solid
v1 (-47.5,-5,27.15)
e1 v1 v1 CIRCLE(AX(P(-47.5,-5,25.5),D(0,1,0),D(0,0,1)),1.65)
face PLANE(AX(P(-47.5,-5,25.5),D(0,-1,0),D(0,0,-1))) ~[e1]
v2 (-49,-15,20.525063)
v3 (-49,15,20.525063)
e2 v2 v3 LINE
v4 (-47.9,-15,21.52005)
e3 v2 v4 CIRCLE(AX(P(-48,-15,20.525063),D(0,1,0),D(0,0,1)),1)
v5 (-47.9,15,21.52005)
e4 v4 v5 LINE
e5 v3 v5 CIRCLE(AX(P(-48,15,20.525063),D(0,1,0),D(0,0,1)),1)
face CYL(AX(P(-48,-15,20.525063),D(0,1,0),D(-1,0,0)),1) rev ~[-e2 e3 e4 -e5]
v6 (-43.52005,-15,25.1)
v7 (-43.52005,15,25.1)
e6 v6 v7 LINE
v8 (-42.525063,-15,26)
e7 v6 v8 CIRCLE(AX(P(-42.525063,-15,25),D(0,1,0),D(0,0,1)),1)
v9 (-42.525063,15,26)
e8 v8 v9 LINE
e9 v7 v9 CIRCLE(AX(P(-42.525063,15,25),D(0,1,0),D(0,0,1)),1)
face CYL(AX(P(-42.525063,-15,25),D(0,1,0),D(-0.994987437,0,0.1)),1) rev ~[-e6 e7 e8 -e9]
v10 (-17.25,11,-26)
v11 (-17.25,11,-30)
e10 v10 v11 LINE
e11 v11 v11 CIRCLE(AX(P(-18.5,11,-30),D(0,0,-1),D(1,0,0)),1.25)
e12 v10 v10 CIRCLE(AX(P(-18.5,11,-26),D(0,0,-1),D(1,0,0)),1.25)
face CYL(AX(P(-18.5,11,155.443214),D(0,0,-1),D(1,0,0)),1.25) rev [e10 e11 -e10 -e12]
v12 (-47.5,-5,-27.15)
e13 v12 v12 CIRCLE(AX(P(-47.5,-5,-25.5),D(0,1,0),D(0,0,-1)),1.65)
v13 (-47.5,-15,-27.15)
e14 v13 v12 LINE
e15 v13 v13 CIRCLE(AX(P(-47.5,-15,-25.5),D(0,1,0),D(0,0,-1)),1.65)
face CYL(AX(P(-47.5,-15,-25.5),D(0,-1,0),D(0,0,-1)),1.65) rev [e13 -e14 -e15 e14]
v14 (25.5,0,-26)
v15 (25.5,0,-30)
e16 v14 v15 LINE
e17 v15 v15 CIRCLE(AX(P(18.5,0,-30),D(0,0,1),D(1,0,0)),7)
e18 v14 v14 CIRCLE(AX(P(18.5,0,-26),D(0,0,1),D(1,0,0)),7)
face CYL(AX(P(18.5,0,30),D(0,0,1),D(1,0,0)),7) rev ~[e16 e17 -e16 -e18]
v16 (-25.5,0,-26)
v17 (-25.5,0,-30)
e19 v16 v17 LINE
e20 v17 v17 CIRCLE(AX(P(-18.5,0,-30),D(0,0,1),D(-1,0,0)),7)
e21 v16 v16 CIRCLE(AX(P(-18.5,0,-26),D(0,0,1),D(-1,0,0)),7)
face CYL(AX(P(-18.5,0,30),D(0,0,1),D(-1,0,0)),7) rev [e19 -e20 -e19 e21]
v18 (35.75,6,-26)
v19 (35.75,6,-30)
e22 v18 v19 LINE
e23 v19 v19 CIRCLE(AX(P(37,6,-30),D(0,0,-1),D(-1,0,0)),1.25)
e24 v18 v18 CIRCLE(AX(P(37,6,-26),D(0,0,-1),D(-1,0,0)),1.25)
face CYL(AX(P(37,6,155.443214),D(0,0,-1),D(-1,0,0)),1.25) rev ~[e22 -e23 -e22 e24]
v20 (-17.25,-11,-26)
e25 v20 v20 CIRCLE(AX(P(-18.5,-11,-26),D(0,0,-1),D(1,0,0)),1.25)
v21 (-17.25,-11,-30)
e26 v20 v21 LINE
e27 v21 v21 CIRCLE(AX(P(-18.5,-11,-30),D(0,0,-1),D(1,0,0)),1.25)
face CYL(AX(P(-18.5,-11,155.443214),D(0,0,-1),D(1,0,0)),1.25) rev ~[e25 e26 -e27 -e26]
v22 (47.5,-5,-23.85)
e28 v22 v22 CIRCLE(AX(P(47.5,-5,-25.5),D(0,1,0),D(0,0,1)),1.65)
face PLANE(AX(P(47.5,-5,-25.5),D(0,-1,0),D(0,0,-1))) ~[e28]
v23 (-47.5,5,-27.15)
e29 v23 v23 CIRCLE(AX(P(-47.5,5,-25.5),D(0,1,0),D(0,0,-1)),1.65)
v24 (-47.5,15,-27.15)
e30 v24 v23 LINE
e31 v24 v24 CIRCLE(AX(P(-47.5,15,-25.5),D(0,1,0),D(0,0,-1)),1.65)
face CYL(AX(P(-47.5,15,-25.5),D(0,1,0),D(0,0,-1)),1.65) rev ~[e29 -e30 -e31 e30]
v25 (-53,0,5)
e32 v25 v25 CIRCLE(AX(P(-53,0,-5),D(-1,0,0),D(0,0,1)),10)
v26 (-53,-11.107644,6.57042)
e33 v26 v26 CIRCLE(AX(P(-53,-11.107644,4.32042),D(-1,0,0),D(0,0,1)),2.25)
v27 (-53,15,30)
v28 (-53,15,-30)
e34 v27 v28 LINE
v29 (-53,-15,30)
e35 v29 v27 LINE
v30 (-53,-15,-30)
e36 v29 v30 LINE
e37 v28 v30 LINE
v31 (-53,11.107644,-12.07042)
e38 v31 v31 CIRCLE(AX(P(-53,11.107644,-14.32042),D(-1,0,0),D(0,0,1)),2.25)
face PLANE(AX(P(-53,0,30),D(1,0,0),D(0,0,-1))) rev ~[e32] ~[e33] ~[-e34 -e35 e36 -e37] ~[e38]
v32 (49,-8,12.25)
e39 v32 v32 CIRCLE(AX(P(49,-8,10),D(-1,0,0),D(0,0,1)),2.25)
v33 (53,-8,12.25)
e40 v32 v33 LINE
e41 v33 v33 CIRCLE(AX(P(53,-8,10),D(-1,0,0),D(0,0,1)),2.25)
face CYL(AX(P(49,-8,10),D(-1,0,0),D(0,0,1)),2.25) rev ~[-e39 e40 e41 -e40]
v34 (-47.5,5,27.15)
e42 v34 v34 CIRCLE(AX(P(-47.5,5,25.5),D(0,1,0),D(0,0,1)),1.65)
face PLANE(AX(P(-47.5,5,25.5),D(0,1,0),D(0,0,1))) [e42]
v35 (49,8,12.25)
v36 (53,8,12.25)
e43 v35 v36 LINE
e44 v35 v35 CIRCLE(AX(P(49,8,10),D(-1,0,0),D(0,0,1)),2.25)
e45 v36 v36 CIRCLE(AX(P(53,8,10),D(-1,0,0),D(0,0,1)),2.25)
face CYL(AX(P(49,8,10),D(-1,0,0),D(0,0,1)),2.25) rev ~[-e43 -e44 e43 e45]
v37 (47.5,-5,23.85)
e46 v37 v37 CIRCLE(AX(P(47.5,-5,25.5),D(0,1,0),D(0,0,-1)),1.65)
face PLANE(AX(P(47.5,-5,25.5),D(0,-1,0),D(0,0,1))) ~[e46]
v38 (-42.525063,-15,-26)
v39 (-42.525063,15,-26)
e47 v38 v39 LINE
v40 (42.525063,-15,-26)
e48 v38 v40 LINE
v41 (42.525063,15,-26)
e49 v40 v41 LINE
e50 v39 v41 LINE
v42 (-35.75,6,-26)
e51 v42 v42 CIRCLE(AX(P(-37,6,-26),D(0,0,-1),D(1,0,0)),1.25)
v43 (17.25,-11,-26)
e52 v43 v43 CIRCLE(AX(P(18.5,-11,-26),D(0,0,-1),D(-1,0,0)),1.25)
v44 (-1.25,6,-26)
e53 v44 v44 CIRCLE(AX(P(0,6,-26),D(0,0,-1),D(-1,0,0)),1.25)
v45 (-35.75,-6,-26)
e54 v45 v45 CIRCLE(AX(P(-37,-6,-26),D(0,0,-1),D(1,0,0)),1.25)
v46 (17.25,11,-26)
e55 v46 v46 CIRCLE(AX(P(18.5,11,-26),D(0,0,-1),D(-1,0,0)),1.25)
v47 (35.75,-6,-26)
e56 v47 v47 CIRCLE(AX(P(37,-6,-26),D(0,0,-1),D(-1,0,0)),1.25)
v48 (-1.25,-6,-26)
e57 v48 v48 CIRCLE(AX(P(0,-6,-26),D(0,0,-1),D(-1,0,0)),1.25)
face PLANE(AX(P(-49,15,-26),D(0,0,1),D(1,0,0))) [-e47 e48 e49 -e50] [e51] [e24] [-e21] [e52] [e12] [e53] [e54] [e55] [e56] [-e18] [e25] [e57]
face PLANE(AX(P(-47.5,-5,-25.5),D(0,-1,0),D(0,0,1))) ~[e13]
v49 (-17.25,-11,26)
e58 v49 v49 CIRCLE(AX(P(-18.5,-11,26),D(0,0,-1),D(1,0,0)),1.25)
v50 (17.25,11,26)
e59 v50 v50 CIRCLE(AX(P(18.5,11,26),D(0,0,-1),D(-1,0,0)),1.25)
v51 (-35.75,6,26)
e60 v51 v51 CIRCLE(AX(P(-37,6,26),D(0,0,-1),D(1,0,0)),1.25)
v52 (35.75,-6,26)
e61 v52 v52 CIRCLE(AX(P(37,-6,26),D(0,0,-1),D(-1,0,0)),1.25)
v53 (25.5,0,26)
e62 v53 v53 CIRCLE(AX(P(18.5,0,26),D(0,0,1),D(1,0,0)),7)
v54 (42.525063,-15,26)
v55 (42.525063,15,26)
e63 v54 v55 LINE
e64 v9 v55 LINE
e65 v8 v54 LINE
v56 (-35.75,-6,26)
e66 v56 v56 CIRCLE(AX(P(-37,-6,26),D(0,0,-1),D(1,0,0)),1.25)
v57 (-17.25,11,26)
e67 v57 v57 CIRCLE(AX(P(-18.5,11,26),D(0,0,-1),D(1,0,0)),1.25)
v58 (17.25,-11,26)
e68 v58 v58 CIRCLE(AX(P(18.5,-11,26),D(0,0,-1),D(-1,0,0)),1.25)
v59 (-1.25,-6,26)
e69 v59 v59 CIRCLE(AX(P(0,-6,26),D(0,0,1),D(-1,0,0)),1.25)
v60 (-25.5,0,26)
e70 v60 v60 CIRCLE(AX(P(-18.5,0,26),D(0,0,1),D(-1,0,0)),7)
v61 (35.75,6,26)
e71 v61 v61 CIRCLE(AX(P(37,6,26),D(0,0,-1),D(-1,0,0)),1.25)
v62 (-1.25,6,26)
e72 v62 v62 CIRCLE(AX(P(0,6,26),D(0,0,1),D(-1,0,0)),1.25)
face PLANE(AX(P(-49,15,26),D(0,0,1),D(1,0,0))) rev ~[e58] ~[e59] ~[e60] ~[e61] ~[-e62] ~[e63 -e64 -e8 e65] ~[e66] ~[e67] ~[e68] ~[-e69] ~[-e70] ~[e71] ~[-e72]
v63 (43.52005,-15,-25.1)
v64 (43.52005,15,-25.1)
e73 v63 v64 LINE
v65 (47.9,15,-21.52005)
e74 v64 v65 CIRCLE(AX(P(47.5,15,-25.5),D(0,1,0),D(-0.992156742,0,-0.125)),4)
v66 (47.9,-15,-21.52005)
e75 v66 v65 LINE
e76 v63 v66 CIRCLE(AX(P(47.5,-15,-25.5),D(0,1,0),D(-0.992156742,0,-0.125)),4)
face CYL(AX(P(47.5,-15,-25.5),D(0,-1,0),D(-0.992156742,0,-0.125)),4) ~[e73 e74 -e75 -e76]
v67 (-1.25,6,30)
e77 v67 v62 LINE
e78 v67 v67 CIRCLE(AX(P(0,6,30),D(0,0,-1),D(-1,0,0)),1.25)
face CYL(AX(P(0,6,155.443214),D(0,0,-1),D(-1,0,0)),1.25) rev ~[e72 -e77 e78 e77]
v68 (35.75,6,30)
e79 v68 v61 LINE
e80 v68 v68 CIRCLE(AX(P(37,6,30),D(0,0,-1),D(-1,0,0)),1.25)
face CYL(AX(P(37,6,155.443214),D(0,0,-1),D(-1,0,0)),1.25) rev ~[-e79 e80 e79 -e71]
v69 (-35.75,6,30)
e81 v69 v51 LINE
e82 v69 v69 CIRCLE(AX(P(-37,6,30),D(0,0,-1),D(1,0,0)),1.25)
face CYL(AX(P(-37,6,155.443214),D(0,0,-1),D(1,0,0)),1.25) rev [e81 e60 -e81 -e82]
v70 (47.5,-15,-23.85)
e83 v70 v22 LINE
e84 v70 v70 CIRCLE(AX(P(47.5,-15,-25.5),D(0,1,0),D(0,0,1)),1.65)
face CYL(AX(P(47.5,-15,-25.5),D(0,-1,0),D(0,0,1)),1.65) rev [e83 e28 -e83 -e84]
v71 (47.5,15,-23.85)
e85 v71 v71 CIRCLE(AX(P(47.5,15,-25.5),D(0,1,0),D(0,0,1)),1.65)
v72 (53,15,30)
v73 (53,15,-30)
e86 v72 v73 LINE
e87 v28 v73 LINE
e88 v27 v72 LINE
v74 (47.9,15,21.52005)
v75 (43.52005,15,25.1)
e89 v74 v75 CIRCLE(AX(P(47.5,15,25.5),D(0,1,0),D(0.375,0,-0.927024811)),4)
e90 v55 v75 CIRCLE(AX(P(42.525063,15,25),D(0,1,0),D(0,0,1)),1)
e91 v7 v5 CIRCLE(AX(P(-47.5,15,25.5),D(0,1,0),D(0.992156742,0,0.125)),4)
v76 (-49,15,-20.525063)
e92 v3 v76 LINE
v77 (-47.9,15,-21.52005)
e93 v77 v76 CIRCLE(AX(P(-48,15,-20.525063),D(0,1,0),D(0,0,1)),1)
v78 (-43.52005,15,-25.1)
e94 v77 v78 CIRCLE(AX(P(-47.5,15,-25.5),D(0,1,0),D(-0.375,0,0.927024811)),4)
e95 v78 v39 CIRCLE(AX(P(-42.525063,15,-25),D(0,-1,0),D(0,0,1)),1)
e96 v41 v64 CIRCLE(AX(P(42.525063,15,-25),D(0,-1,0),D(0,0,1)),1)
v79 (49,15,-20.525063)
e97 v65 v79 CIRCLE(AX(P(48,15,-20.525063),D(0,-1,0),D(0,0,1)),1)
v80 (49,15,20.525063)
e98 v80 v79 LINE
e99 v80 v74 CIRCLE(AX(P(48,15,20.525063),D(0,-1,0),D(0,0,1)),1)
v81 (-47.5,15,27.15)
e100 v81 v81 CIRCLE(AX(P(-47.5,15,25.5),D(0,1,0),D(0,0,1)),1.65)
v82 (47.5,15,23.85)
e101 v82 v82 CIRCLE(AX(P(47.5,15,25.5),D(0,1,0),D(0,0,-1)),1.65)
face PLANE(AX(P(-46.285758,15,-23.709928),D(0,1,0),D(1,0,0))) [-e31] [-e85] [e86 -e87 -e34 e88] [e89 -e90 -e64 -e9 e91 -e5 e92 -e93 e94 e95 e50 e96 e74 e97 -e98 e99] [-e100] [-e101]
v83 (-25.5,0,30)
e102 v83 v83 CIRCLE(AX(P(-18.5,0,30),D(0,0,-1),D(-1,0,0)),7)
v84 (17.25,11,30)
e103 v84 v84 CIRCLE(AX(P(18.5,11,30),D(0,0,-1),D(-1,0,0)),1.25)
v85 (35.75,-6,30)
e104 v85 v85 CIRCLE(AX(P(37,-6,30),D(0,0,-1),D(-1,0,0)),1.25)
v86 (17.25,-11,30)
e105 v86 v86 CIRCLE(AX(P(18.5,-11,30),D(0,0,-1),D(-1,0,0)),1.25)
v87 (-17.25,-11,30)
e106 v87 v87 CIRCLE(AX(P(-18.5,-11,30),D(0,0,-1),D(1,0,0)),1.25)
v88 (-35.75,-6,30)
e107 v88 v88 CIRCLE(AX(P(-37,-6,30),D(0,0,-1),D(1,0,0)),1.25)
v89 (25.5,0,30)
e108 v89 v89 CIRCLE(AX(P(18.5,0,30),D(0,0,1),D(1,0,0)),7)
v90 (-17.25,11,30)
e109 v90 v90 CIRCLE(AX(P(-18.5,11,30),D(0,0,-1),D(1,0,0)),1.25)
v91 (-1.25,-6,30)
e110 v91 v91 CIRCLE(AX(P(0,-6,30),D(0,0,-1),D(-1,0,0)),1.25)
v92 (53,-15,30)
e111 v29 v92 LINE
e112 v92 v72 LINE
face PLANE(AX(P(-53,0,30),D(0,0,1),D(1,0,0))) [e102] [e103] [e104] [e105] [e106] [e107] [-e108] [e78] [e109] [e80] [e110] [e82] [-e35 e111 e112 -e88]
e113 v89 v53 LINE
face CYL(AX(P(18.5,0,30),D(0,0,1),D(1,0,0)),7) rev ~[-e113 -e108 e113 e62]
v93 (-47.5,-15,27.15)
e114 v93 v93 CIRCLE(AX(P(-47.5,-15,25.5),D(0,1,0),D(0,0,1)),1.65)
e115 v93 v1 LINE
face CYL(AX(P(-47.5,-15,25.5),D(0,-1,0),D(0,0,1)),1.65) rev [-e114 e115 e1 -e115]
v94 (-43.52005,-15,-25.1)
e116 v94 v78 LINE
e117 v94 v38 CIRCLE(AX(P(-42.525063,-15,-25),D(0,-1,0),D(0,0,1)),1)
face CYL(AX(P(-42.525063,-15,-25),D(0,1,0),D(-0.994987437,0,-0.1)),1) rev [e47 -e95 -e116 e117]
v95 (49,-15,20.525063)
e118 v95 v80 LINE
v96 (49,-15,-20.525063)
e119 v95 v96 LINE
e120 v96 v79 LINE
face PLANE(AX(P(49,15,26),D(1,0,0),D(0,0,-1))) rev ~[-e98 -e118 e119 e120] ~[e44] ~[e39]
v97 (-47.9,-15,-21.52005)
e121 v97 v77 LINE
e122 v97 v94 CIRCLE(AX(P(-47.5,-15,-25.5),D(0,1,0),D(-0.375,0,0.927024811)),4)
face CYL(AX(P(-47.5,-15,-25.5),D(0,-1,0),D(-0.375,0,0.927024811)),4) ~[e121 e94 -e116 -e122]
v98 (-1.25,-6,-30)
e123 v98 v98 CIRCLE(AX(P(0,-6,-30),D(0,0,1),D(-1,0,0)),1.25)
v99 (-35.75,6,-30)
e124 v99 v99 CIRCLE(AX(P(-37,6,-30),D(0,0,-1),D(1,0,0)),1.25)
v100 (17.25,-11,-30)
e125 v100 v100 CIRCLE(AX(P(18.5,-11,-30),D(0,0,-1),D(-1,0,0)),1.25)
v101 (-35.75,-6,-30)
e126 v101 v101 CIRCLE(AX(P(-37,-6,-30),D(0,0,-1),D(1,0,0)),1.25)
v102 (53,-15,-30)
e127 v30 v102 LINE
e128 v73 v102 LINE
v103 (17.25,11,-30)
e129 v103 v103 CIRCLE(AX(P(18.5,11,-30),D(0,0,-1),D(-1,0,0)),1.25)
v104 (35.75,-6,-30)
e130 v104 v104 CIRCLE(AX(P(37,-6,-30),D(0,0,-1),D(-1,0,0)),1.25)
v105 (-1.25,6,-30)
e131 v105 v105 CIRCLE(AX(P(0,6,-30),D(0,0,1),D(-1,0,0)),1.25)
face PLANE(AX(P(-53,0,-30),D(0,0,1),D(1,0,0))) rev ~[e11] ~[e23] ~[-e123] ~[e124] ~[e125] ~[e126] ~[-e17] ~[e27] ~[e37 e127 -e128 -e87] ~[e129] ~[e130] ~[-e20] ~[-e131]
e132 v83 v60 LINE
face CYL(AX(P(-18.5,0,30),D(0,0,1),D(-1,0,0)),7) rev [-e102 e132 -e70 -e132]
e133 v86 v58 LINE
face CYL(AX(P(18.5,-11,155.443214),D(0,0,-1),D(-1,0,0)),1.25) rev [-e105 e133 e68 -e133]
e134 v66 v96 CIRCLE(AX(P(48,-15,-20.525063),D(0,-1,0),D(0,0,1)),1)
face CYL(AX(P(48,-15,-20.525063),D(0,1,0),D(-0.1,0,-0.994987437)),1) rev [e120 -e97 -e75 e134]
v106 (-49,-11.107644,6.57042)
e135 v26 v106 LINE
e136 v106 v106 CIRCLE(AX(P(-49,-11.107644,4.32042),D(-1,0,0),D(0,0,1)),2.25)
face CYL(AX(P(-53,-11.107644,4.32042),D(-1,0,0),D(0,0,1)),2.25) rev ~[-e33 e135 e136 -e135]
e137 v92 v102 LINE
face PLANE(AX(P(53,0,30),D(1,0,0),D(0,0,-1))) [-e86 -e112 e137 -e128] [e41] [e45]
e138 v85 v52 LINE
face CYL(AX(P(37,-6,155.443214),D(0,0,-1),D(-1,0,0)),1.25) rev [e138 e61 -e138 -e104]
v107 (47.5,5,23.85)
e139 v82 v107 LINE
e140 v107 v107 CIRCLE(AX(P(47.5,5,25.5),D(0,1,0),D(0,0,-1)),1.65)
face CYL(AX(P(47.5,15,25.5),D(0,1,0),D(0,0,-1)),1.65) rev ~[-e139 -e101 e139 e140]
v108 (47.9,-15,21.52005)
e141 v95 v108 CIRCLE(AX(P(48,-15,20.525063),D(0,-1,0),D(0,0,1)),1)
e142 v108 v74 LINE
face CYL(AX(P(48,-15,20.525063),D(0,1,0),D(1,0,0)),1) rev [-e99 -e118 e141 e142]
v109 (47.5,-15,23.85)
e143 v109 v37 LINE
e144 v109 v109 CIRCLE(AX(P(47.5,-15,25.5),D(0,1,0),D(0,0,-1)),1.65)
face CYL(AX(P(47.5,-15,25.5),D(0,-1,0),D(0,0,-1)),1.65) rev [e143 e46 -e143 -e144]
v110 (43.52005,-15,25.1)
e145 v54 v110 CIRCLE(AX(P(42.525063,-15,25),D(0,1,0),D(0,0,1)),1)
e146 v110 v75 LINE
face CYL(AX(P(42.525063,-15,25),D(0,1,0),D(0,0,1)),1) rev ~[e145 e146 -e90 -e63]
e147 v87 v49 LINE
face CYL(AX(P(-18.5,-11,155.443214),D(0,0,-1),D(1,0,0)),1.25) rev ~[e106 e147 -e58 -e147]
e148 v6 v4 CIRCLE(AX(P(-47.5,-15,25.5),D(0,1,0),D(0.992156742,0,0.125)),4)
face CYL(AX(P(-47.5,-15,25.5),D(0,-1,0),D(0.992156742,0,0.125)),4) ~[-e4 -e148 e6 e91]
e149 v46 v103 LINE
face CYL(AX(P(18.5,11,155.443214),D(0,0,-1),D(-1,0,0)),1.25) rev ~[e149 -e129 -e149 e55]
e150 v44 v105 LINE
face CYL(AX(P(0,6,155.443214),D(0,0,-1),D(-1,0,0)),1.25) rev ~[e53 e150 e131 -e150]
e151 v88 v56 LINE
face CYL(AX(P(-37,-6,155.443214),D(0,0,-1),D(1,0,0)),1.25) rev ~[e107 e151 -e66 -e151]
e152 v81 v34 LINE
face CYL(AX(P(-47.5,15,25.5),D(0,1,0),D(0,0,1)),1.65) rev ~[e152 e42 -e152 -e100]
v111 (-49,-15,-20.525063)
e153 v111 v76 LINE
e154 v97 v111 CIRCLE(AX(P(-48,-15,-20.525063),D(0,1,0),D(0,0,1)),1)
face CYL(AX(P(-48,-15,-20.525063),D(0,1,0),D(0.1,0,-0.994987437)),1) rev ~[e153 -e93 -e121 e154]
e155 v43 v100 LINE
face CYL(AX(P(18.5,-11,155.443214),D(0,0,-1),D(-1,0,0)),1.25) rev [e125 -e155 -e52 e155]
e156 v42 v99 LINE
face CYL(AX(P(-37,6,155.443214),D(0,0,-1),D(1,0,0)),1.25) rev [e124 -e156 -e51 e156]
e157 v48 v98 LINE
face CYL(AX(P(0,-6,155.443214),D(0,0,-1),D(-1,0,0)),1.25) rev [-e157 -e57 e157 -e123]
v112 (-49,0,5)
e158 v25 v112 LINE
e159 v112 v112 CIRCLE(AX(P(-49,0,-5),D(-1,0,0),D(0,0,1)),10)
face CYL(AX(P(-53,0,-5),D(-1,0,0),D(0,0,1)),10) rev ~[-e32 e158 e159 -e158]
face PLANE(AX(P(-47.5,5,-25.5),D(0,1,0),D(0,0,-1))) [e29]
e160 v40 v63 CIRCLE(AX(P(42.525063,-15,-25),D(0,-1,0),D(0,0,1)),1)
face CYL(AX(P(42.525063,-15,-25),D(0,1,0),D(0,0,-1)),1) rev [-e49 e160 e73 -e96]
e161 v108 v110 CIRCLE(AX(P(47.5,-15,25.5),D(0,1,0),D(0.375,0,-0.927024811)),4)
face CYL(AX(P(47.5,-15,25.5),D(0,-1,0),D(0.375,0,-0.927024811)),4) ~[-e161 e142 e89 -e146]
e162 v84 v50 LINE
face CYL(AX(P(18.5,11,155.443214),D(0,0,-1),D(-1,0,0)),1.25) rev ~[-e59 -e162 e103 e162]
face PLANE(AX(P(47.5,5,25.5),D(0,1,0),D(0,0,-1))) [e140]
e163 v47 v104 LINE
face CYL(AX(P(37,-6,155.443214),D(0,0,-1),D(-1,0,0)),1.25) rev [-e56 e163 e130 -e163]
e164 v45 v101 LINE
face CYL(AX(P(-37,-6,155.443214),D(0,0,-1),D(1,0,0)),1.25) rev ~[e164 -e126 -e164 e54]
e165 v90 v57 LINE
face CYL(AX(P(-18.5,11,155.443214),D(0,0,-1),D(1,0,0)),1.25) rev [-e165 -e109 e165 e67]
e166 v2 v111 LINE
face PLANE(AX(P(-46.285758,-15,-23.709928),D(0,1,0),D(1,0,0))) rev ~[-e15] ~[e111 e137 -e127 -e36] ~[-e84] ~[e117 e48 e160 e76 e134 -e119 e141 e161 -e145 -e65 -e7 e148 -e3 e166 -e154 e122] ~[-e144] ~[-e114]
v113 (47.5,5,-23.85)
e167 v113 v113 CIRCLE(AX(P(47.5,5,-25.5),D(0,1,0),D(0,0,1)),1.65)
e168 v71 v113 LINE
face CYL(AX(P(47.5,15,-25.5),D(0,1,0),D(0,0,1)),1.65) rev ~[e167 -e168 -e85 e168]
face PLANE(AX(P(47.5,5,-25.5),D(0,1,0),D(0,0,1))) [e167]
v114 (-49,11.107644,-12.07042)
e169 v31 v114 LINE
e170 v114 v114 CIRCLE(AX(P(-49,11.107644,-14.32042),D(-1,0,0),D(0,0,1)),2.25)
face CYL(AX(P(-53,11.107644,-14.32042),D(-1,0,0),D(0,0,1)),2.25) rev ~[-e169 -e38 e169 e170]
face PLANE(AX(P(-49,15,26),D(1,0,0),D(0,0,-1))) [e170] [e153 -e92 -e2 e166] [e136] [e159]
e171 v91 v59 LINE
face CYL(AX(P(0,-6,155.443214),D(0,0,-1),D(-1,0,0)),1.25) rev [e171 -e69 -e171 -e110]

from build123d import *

# Parameters (mm, degrees)
SKETCH_1_W                                 = 106
SKETCH_1_H                                 = 60
EXTRUDE_1_DEPTH                            = 15
SKETCH_4_W                                 = 98
SKETCH_4_H                                 = 52
CUT_EXTRUDE_3_DEPTH                        = 68.88961629
SKETCH_5_R                                 = 2
EXTRUDE_2_DEPTH                            = 30
MIRROR_3_COPY_1_SKETCH_R                   = 2
MIRROR_3_COPY_1_DEPTH                      = 30
SKETCH_3_R                                 = 1.65
CUT_EXTRUDE_2_DEPTH                        = 10
CUT_EXTRUDE_4_REACH                        = 113.18
SKETCH_6_R                                 = 10
SKETCH_6_R_2                               = 2.25
SKETCH_7_R                                 = 2.25
CUT_EXTRUDE_5_DEPTH                        = 108.373181009
SKETCH_8_R                                 = 7
CUT_EXTRUDE_6_DEPTH                        = 82.449370777
HOLE_WIZARD_M3_1_D                         = 2.5
MIRROR_4_AT_THE_SECOND_PLANE_COPY_1_SKET_R = 7
MIRROR_4_AT_THE_SECOND_PLANE_COPY_1_DEPTH  = 82.449370777
MIRROR_4_AT_THE_SECOND_PLANE_COPY_2_D      = 2.5
EXTRUDE_START                              = -30
EXTRUDE_3_DEPTH                            = 30
FILLET_1_R                                 = 1


with BuildPart() as part:
    # 草图1 → 凸台-拉伸1 (new, symmetric)
    with BuildSketch(Plane(origin=(0, 0, 0), x_dir=(1, 0, 0), z_dir=(0, 1, 0))):
        Rectangle(SKETCH_1_W, SKETCH_1_H)
    extrude(amount=EXTRUDE_1_DEPTH, both=True)

    # 草图4 → 切除-拉伸3 (cut, through all)
    with BuildSketch(Plane(origin=(0, 15, 0), x_dir=(1, 0, 0), z_dir=(0, 1, 0))):
        Rectangle(SKETCH_4_W, SKETCH_4_H)
    extrude(amount=-CUT_EXTRUDE_3_DEPTH, mode=Mode.SUBTRACT)

    # 草图5 → 凸台-拉伸2 (add)
    with BuildSketch(Plane(origin=(0, 15, 0), x_dir=(1, 0, 0), z_dir=(0, 1, 0))):
        with Locations((47.5, 25.5)):
            Circle(SKETCH_5_R)
    extrude_2 = extrude(amount=-EXTRUDE_2_DEPTH)

    # 镜向2: 凸台-拉伸2 across plane
    add(extrude_2.mirror(Plane(origin=(0, 0, 0), x_dir=(0, 0, 1), z_dir=(1, 0, 0))))

    # 镜向3: 凸台-拉伸2 across plane
    add(extrude_2.mirror(Plane.XY))

    # 镜向3 copy 1 sketch → 镜向3 copy 1 (add)
    with BuildSketch(Plane(origin=(0, 15, 0), x_dir=(-1, 0, 0), z_dir=(0, 1, 0))):
        with Locations((47.5, 25.5)):
            Circle(MIRROR_3_COPY_1_SKETCH_R)
    extrude(amount=-MIRROR_3_COPY_1_DEPTH)

    # 草图3 → 切除-拉伸2 (cut)
    with BuildSketch(Plane(origin=(0, 15, 0), x_dir=(1, 0, 0), z_dir=(0, 1, 0))):
        with Locations(Location((47.5, 25.5, 0), (0, 0, 270))):
            Circle(SKETCH_3_R)
        with Locations(Location((47.5, -25.5, 0), (0, 0, 90))):
            Circle(SKETCH_3_R)
        with Locations(Location((-47.5, -25.5, 0), (0, 0, 270))):
            Circle(SKETCH_3_R)
        with Locations(Location((-47.5, 25.5, 0), (0, 0, 90))):
            Circle(SKETCH_3_R)
    cut_extrude_2 = extrude(amount=-CUT_EXTRUDE_2_DEPTH, mode=Mode.SUBTRACT)

    # 镜向1: 切除-拉伸2 across plane
    add(cut_extrude_2.mirror(Plane.ZX), mode=Mode.SUBTRACT)

    # 草图6 → 切除-拉伸4 (cut, up to next)
    with BuildSketch(Plane.ZY.offset(53), mode=Mode.PRIVATE) as cut_extrude_4_sk1:
        with Locations((-5, 0)):
            Circle(SKETCH_6_R)
    cut_extrude_4_tool1 = extrude(cut_extrude_4_sk1.sketch, amount=-CUT_EXTRUDE_4_REACH, mode=Mode.PRIVATE) & part.part
    # 草图6 → 切除-拉伸4 (cut, up to next)
    with BuildSketch(Plane.ZY.offset(53), mode=Mode.PRIVATE) as cut_extrude_4_sk2:
        with Locations((-14.32042034, 11.107644425)):
            Circle(SKETCH_6_R_2)
    cut_extrude_4_tool2 = extrude(cut_extrude_4_sk2.sketch, amount=-CUT_EXTRUDE_4_REACH, mode=Mode.PRIVATE) & part.part
    # 草图6 → 切除-拉伸4 (cut, up to next)
    with BuildSketch(Plane.ZY.offset(53), mode=Mode.PRIVATE) as cut_extrude_4_sk3:
        with Locations((4.32042034, -11.107644425)):
            Circle(SKETCH_6_R_2)
    cut_extrude_4_tool3 = extrude(cut_extrude_4_sk3.sketch, amount=-CUT_EXTRUDE_4_REACH, mode=Mode.PRIVATE) & part.part
    add(cut_extrude_4_tool1.solids().sort_by_distance((-53, 0, -5))[0], mode=Mode.SUBTRACT)
    add(cut_extrude_4_tool2.solids().sort_by_distance((-53, 11.107644, -14.32042))[0], mode=Mode.SUBTRACT)
    add(cut_extrude_4_tool3.solids().sort_by_distance((-53, -11.107644, 4.32042))[0], mode=Mode.SUBTRACT)

    # 草图7 → 切除-拉伸5 (cut, through all)
    with BuildSketch(Plane.ZY.offset(-49)):
        with Locations((10, 8)):
            Circle(SKETCH_7_R)
        with Locations((10, -8)):
            Circle(SKETCH_7_R)
    extrude(amount=-CUT_EXTRUDE_5_DEPTH, mode=Mode.SUBTRACT)

    # 草图8 → 切除-拉伸6 (cut, through all)
    with BuildSketch(Plane.XY.offset(30)):
        with Locations((18.5, 0)):
            Circle(SKETCH_8_R)
    cut_extrude_6 = extrude(amount=-CUT_EXTRUDE_6_DEPTH, mode=Mode.SUBTRACT)

    # M3 螺纹孔1 (through all)
    with Locations(Plane(origin=(0, 6, 30), x_dir=(1, 0, 0), z_dir=(0, 0, 1))):
        with Locations((0, 0), (18.5, 5), (37, 0)):
            hole_wizard_m3_1 = Hole(HOLE_WIZARD_M3_1_D / 2)

    # 镜向4: 切除-拉伸6, M3 螺纹孔1 across plane
    add(cut_extrude_6.mirror(Plane(origin=(0, 0, 0), x_dir=(0, 0, 1), z_dir=(1, 0, 0))), mode=Mode.SUBTRACT)
    add(hole_wizard_m3_1.mirror(Plane(origin=(0, 0, 0), x_dir=(0, 0, 1), z_dir=(1, 0, 0))), mode=Mode.SUBTRACT)

    # 镜向4 at the second plane: 切除-拉伸6, M3 螺纹孔1 across plane
    add(cut_extrude_6.mirror(Plane.ZX), mode=Mode.SUBTRACT)
    add(hole_wizard_m3_1.mirror(Plane.ZX), mode=Mode.SUBTRACT)

    # 镜向4 at the second plane copy 1 sket → 镜向4 at the second plane copy 1 (cut, through all)
    with BuildSketch(Plane(origin=(0, 0, 30), x_dir=(-1, 0, 0), z_dir=(0, 0, 1))):
        with Locations((18.5, 0)):
            Circle(MIRROR_4_AT_THE_SECOND_PLANE_COPY_1_SKET_R)
    extrude(amount=-MIRROR_4_AT_THE_SECOND_PLANE_COPY_1_DEPTH, mode=Mode.SUBTRACT)

    # 镜向4 at the second plane copy 2 (through all)
    with Locations(Plane(origin=(0, -6, 30), x_dir=(-1, 0, 0), z_dir=(0, 0, 1))):
        with Locations((0, 0), (18.5, 5), (37, 0)):
            Hole(MIRROR_4_AT_THE_SECOND_PLANE_COPY_2_D / 2)

    # 草图10 → 凸台-拉伸3 (add)
    with BuildSketch(Plane(origin=(0, 15, 0), x_dir=(1, 0, 0), z_dir=(0, 1, 0)).offset(EXTRUDE_START)):
        with BuildLine():
            ThreePointArc((-49, 21.791900756), (-45.06062414, 22.329913974), (-43.531373033, 26))
            Line((-43.531373033, 26), (-45.563508327, 26))
            ThreePointArc((-45.563508327, 26), (-46.562796629, 23.733180869), (-49, 24.177124344))
            Line((-49, 24.177124344), (-49, 21.791900756))
        make_face()
        with BuildLine():
            Line((45.563508327, 26), (43.531373033, 26))
            ThreePointArc((43.531373033, 26), (45.06062414, 22.329913974), (49, 21.791900756))
            Line((49, 21.791900756), (49, 24.177124344))
            ThreePointArc((49, 24.177124344), (46.562796629, 23.733180869), (45.563508327, 26))
        make_face()
        with BuildLine():
            ThreePointArc((-43.531373033, -26), (-45.06062414, -22.329913974), (-49, -21.791900756))
            Line((-49, -21.791900756), (-49, -24.177124344))
            ThreePointArc((-49, -24.177124344), (-46.562796629, -23.733180869), (-45.563508327, -26))
            Line((-45.563508327, -26), (-43.531373033, -26))
        make_face()
        with BuildLine():
            Line((49, -24.177124344), (49, -21.791900756))
            ThreePointArc((49, -21.791900756), (45.06062414, -22.329913974), (43.531373033, -26))
            Line((43.531373033, -26), (45.563508327, -26))
            ThreePointArc((45.563508327, -26), (46.562796629, -23.733180869), (49, -24.177124344))
        make_face()
    extrude(amount=EXTRUDE_3_DEPTH)

    # 圆角1
    fillet_1_edges = [part.edges().sort_by_distance(p)[0] for p in [
        (49, 0, -21.791900756),
        (43.531373033, 0, -26),
        (43.531373033, 0, 26),
        (49, 0, 21.791900756),
        (-49, 0, 21.791900756),
        (-43.531373033, 0, 26),
        (-43.531373033, 0, -26),
        (-49, 0, -21.791900756),
    ]]
    fillet(fillet_1_edges, radius=FILLET_1_R)


solid = part.part
